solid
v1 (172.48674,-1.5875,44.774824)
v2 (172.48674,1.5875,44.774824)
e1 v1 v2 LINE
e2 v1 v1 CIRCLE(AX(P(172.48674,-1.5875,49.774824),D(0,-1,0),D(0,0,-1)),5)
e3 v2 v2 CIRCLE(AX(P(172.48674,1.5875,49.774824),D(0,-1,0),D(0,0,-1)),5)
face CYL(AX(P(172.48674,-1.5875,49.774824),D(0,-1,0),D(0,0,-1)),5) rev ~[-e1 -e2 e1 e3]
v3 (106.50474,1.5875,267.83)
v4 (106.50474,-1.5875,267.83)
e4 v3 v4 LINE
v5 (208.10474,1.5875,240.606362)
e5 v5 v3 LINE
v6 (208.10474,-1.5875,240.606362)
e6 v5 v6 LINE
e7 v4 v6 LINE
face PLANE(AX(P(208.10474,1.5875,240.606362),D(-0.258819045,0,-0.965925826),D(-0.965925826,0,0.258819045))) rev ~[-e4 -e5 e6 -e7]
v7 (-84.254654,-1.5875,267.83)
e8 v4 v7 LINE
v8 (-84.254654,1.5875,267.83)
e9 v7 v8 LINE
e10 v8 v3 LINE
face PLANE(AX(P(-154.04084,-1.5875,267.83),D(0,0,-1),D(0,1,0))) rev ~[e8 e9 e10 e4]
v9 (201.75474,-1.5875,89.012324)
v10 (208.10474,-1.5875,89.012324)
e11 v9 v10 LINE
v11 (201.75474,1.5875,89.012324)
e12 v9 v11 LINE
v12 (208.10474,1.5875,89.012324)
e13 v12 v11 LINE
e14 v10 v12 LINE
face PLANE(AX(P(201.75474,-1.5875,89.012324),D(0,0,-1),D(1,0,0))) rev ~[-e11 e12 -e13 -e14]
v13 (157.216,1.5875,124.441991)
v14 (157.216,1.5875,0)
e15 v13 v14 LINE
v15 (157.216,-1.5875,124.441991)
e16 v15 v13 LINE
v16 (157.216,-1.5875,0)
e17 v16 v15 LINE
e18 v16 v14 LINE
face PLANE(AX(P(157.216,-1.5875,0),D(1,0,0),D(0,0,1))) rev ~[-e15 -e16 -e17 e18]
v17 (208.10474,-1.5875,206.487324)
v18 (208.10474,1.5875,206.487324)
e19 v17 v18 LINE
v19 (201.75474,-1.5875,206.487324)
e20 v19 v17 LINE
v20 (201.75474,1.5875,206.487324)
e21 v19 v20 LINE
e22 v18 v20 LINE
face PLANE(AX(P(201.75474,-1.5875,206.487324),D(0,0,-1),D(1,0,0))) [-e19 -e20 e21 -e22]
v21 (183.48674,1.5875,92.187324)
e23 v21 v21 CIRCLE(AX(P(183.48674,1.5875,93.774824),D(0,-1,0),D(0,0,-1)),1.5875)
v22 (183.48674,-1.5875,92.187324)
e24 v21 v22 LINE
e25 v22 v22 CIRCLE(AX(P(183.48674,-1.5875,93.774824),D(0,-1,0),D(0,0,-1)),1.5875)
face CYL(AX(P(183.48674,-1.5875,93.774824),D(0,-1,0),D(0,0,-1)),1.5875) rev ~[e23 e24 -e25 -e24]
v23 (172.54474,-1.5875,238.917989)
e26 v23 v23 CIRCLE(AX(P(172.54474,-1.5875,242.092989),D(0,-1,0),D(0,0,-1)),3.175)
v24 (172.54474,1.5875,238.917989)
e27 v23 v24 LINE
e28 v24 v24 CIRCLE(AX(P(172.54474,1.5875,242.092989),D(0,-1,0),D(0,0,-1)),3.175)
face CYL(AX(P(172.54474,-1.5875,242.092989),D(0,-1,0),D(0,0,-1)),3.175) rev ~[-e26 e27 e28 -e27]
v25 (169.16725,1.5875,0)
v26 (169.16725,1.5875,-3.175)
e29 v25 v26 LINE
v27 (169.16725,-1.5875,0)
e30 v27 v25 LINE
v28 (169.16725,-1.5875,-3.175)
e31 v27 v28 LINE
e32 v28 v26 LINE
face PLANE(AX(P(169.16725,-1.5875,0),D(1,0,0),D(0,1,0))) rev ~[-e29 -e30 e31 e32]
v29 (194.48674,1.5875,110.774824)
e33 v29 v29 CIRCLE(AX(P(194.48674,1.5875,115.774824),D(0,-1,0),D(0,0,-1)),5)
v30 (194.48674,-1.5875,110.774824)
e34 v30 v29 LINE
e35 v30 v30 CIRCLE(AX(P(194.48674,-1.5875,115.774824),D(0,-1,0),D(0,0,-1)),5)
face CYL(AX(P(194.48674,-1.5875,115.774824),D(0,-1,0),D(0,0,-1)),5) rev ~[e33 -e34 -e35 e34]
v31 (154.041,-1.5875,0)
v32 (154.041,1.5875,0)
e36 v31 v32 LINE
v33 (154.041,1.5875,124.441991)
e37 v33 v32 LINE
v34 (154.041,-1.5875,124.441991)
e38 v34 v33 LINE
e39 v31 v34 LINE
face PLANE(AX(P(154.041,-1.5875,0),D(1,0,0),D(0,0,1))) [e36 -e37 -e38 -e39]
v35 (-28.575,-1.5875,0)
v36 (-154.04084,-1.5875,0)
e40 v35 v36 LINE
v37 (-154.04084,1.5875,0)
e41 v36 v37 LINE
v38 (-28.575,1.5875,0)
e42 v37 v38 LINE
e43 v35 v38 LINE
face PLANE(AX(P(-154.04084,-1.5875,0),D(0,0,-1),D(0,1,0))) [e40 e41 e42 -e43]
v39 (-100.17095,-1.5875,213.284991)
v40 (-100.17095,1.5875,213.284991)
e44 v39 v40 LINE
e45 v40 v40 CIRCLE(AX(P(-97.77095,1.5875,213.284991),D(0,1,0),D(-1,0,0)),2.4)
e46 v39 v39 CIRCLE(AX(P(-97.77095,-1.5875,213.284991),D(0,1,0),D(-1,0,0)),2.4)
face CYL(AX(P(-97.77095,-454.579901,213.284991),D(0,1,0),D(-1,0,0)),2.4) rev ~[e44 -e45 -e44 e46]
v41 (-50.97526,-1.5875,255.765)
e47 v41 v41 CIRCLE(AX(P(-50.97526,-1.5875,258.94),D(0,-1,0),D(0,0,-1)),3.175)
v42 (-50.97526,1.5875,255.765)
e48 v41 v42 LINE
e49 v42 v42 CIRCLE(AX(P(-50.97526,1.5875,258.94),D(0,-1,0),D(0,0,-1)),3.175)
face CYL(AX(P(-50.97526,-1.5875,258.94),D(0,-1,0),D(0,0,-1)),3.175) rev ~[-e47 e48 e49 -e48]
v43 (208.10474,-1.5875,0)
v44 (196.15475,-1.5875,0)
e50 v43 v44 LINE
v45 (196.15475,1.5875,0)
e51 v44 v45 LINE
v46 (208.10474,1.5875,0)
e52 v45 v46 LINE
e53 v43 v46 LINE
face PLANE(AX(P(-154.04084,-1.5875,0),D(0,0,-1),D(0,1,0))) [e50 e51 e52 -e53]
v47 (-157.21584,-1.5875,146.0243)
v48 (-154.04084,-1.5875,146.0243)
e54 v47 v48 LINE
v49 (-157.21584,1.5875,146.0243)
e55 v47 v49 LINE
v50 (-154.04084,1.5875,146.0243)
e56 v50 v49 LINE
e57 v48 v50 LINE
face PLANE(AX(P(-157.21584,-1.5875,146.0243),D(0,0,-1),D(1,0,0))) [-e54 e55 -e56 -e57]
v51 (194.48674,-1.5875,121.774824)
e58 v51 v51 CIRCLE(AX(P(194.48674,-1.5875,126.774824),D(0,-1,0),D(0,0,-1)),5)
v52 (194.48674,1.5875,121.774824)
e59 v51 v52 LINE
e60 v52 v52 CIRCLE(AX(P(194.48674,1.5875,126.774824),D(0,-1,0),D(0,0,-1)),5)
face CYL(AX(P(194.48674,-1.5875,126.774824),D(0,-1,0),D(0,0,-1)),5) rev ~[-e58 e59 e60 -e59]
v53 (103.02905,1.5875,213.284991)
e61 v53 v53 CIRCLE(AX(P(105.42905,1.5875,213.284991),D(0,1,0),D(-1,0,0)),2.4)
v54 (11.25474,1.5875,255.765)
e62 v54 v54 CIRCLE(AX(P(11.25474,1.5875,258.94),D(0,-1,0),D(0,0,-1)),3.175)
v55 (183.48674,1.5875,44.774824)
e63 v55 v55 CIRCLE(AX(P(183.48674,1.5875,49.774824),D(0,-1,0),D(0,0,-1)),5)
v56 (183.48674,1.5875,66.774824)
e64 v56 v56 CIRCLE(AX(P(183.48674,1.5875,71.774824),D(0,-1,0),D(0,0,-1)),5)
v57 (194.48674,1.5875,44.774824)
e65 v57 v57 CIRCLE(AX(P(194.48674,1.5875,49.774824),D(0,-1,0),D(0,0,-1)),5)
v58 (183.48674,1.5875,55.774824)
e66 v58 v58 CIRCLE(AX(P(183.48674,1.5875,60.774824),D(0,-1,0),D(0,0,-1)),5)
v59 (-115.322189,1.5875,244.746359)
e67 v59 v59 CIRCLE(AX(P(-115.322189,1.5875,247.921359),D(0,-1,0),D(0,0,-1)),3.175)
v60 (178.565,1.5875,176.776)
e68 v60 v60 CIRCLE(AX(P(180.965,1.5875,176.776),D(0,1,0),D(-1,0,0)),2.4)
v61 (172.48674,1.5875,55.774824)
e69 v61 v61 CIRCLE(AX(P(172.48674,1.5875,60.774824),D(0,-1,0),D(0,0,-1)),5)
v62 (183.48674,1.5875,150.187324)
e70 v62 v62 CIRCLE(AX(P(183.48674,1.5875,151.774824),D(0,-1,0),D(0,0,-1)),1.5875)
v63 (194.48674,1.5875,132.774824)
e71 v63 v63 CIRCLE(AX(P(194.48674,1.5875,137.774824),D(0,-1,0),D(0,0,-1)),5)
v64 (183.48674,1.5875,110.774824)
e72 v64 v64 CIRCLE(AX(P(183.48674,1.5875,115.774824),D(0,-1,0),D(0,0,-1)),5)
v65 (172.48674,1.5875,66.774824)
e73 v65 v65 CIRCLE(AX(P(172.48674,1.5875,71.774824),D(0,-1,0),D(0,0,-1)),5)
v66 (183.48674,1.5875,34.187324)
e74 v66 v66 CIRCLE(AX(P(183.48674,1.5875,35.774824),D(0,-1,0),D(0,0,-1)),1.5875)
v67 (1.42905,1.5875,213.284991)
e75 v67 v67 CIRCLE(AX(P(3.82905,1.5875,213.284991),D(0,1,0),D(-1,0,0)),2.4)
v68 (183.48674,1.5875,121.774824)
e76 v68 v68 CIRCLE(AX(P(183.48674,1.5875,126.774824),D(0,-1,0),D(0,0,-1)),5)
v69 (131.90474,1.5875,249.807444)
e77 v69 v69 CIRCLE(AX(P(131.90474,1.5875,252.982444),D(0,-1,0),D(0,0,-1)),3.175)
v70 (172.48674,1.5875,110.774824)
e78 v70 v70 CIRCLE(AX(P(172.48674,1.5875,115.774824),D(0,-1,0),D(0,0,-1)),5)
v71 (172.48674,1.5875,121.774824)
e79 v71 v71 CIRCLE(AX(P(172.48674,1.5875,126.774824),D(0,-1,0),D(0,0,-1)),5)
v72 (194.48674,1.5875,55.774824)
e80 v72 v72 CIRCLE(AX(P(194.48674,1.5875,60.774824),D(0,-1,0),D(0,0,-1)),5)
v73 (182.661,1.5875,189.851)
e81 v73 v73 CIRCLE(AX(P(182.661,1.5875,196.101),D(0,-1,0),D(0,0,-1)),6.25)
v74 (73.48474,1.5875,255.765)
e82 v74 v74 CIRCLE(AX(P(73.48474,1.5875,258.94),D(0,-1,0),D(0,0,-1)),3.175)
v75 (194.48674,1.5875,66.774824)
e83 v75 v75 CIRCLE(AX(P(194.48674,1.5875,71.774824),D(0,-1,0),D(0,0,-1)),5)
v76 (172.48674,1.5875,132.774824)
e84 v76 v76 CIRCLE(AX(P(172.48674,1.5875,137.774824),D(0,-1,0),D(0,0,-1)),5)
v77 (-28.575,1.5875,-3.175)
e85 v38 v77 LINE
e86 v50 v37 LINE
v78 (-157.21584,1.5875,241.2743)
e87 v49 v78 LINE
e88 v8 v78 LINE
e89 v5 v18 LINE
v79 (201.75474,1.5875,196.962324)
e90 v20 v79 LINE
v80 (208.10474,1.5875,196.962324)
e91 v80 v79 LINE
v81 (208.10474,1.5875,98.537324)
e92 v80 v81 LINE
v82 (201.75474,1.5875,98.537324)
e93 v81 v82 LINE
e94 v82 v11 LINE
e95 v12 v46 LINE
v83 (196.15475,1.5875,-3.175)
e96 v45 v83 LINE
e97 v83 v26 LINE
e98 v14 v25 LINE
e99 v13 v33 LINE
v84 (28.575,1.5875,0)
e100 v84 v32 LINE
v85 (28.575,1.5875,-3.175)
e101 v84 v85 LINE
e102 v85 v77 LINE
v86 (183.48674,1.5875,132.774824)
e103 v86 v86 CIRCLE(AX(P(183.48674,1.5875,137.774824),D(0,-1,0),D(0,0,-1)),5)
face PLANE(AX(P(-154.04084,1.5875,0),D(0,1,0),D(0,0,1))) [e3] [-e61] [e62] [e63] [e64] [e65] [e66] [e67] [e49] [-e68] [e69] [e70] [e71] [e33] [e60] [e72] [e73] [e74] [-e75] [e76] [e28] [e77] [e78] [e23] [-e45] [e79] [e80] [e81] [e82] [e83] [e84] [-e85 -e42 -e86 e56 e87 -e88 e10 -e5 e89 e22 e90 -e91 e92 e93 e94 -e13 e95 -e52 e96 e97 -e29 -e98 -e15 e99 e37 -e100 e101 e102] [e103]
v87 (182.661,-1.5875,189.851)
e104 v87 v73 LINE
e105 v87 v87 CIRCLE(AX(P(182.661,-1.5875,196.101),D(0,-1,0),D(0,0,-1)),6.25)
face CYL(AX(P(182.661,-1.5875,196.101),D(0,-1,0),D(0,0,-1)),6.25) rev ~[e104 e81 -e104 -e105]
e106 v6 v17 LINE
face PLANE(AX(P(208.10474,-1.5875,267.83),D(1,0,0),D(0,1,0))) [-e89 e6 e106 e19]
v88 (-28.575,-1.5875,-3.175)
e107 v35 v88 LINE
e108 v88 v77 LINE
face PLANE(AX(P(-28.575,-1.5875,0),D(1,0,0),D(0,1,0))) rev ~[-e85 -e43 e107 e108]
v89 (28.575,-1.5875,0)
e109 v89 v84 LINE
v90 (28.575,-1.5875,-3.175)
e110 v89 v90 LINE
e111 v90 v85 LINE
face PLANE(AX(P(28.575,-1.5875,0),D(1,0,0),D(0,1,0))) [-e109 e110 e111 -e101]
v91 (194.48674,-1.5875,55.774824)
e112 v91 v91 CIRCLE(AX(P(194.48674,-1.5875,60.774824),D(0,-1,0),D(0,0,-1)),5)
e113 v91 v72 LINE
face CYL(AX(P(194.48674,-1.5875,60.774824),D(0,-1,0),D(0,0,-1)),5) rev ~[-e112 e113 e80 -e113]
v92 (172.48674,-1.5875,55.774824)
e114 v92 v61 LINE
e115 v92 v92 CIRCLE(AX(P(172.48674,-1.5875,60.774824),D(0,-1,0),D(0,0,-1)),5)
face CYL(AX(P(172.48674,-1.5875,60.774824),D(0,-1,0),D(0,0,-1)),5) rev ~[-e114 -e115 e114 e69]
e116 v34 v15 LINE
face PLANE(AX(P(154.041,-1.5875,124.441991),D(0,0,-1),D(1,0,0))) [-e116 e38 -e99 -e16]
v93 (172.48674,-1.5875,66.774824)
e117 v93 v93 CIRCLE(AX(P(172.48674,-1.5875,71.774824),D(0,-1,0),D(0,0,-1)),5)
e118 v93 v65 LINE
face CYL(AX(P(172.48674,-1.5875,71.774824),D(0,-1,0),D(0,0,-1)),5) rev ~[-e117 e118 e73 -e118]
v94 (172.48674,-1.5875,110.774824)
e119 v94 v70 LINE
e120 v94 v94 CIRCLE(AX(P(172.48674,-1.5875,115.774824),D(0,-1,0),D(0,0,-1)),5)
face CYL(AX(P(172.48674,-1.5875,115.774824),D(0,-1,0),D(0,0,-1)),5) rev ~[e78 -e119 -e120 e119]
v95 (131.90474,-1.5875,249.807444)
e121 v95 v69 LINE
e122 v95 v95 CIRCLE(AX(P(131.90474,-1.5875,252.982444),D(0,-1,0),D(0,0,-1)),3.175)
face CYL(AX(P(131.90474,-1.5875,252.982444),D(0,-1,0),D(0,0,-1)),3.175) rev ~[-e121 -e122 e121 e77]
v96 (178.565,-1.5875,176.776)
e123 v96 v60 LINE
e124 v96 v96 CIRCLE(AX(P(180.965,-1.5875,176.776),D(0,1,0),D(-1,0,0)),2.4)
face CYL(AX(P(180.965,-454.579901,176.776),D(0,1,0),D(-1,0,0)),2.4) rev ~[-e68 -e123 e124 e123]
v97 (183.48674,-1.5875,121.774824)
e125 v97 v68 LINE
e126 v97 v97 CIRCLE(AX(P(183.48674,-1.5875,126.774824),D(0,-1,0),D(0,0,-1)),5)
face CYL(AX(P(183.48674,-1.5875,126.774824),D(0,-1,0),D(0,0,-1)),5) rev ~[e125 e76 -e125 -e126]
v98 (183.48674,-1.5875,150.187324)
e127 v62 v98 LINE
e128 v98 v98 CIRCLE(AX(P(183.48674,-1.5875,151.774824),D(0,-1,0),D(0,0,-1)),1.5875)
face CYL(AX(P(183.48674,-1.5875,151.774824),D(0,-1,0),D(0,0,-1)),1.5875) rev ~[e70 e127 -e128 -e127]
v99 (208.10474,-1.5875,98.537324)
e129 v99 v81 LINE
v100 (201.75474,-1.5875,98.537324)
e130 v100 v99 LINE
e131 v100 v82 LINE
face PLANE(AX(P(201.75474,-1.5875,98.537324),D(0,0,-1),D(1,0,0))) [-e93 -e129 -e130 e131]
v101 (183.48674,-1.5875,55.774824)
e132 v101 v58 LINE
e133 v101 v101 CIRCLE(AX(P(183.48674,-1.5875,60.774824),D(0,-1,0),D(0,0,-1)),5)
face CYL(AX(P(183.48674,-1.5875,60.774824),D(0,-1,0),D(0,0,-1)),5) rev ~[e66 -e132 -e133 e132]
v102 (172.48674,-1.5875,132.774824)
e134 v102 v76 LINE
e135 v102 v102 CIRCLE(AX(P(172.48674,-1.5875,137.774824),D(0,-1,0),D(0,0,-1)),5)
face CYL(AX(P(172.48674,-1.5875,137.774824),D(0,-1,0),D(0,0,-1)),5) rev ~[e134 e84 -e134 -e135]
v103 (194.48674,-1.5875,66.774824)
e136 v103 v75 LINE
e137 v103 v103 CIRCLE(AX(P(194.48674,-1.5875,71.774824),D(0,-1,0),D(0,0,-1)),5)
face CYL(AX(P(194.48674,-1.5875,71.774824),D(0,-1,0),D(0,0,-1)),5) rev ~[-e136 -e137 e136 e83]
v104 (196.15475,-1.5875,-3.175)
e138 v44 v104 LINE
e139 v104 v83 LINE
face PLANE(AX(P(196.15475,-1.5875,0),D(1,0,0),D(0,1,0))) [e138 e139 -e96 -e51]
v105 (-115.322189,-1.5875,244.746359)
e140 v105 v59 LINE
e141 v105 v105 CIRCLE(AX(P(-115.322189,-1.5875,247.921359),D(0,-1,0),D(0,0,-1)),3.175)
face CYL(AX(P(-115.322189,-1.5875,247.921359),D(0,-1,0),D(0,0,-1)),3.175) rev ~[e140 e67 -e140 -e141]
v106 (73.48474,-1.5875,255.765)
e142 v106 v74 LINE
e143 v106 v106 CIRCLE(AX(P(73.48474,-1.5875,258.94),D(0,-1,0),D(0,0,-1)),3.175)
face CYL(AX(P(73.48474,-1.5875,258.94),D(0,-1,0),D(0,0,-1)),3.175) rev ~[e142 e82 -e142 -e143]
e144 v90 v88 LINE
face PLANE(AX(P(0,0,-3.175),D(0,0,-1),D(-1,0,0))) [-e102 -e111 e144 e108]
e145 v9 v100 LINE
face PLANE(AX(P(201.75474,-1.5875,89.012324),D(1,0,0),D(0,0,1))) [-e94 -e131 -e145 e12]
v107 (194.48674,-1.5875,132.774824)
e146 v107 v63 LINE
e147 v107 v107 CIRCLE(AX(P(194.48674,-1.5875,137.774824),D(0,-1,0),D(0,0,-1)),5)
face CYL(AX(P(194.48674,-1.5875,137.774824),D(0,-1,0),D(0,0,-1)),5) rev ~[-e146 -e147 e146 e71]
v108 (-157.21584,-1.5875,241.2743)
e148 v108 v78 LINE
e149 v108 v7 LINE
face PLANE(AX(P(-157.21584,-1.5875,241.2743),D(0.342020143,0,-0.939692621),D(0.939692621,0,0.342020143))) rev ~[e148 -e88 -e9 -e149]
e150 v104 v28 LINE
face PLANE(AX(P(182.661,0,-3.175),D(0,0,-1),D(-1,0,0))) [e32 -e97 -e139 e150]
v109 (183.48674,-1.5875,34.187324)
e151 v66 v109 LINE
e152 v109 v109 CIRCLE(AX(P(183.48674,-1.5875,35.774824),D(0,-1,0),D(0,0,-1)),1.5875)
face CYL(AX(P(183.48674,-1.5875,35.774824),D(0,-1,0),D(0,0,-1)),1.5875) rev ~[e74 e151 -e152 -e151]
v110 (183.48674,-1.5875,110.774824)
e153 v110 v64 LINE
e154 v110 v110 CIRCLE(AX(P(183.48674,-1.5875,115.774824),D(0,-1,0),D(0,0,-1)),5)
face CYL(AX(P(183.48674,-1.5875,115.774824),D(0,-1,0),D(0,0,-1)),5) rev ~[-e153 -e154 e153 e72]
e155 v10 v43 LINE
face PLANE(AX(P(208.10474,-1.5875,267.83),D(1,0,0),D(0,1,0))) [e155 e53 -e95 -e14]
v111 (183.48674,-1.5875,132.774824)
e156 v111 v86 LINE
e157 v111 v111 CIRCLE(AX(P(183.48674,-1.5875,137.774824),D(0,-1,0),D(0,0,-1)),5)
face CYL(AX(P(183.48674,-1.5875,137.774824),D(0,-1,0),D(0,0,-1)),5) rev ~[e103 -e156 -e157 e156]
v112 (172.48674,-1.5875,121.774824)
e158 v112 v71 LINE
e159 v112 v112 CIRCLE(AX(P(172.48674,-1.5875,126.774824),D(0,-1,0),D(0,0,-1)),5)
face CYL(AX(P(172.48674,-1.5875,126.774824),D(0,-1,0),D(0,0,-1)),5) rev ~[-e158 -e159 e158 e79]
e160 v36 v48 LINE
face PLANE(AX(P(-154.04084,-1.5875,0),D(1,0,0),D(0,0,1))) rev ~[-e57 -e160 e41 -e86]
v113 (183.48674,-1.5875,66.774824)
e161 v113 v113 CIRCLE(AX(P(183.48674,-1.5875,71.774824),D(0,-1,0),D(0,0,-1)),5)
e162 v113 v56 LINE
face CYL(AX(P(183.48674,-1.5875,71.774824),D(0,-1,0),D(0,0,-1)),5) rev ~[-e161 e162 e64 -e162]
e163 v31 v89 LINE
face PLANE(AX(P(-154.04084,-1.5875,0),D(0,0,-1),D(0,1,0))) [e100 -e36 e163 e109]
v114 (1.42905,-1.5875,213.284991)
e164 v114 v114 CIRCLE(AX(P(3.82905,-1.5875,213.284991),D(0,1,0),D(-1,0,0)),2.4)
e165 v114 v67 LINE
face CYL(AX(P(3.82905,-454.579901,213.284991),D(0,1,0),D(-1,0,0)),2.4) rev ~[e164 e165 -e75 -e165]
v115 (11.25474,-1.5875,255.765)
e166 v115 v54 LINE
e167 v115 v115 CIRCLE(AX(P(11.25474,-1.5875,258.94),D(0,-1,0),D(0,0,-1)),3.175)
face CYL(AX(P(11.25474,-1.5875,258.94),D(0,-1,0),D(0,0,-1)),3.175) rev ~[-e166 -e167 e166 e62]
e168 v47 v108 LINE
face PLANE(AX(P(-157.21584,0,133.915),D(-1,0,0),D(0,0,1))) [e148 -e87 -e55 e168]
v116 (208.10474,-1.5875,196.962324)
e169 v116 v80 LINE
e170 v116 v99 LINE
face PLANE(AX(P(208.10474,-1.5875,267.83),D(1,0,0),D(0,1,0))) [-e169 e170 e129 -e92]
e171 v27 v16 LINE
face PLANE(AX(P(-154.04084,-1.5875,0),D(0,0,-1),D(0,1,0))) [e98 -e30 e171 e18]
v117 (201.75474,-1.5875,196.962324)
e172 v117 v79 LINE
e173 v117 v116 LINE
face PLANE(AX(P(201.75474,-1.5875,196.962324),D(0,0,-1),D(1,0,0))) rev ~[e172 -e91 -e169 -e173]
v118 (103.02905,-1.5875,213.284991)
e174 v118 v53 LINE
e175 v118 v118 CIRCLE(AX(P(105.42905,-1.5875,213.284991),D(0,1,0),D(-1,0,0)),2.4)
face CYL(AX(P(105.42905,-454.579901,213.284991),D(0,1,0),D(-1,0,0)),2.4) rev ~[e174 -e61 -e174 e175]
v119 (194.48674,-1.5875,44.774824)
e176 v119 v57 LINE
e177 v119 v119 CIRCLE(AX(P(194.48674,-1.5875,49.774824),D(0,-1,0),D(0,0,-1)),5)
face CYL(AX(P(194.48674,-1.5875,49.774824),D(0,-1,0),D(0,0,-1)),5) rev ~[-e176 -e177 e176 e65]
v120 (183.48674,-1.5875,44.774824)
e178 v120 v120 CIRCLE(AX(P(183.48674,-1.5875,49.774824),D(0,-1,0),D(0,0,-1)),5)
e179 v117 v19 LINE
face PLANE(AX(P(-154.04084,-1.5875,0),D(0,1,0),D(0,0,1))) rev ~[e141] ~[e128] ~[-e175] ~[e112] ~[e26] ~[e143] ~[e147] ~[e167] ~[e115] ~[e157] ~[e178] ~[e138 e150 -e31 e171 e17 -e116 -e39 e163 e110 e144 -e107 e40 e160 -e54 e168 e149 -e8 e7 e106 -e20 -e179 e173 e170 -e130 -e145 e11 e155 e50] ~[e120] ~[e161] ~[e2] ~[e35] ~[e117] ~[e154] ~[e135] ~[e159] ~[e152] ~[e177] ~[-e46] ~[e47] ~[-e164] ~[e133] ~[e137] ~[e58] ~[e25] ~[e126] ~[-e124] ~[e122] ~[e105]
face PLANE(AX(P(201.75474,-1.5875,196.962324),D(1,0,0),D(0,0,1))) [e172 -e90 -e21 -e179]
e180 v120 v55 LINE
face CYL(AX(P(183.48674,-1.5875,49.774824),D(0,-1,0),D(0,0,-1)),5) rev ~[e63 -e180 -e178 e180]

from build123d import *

# Parameters (mm, degrees)
SKETCH1_W            = 308.08168
SKETCH1_H            = 3.175
BOSS_EXTRUDE1_DEPTH  = 267.83
SKETCH3_W            = 267.83
SKETCH3_H            = 3.175
BOSS_EXTRUDE3_DEPTH  = 3.175
SKETCH4_W            = 50.8889
SKETCH4_H            = 3.175
BOSS_EXTRUDE4_DEPTH  = 267.83
CUT_EXTRUDE1_DEPTH   = 340.191055801
SKETCH17_W           = 267.83
SKETCH17_H           = 3.175
BOSS_EXTRUDE5_DEPTH  = 3.175
CUT_EXTRUDE3_DEPTH   = 340.191055801
SKETCH25_R           = 3.175
CUT_EXTRUDE8_DEPTH   = 3.175
SKETCH27_R           = 5
CUT_EXTRUDE9_DEPTH   = 340.191055801
SKETCH31_R           = 1.5875
CUT_EXTRUDE10_DEPTH  = 340.191055801
LPATTERN1_COUNT      = 3
LPATTERN1_PITCH      = 58
M4_CLEARANCE_HOLE1_D = 4.8
SKETCH36_W           = 57.15
SKETCH36_H           = 3.175
SKETCH36_W_2         = 26.9875
BOSS_EXTRUDE6_DEPTH  = 3.175
SKETCH37_W           = 3.175
SKETCH37_H           = 124.4419914
CUT_EXTRUDE11_DEPTH  = 340.191055801
SKETCH38_W           = 3.175
SKETCH38_H           = 146.0243
CUT_EXTRUDE12_DEPTH  = 340.191055801
SKETCH39_W           = 6.35
SKETCH39_H           = 9.525
CUT_EXTRUDE13_DEPTH  = 340.191055801
SKETCH40_R           = 6.25
CUT_EXTRUDE14_DEPTH  = 340.191055801


with BuildPart() as part:
    # Sketch1 → Boss-Extrude1 (new body)
    with BuildSketch(Plane.XY):
        Rectangle(SKETCH1_W, SKETCH1_H)
    extrude(amount=BOSS_EXTRUDE1_DEPTH)

    # Sketch3 → Boss-Extrude3 (add)
    with BuildSketch(Plane(origin=(154.04084, 0, 0), x_dir=(0, 0, -1), z_dir=(1, 0, 0))):
        with Locations((-133.915, 0)):
            Rectangle(SKETCH3_W, SKETCH3_H)
    extrude(amount=BOSS_EXTRUDE3_DEPTH)

    # Sketch4 → Boss-Extrude4 (add)
    with BuildSketch(Plane.XY.offset(267.83)):
        with Locations((182.66029, 0)):
            Rectangle(SKETCH4_W, SKETCH4_H)
    extrude(amount=-BOSS_EXTRUDE4_DEPTH)

    # Sketch6 → Cut-Extrude1 (cut, through all)
    with BuildSketch(Plane(origin=(0, 1.5875, 0), x_dir=(1, 0, 0), z_dir=(0, 1, 0))):
        Polygon((208.10474, -240.606362049), (106.50474, -267.83), (208.10474, -267.83), align=None)
    extrude(amount=-CUT_EXTRUDE1_DEPTH, mode=Mode.SUBTRACT)

    # Sketch17 → Boss-Extrude5 (add)
    with BuildSketch(Plane.ZY.offset(154.04084)):
        with Locations((133.915, 0)):
            Rectangle(SKETCH17_W, SKETCH17_H)
    extrude(amount=BOSS_EXTRUDE5_DEPTH)

    # Sketch11 → Cut-Extrude3 (cut, through all)
    with BuildSketch(Plane.XZ.offset(1.5875)):
        Polygon((-157.21584, 241.2743), (-84.254653892, 267.83), (-157.21584, 267.83), align=None)
    extrude(amount=-CUT_EXTRUDE3_DEPTH, mode=Mode.SUBTRACT)

    # Sketch25 → Cut-Extrude8 (cut)
    with BuildSketch(Plane.XZ.offset(1.5875)):
        with Locations(Location((-115.322188641, 247.921359373, 0), (0, 0, 270))):
            Circle(SKETCH25_R)
        with Locations(Location((-50.97526, 258.94, 0), (0, 0, 270))):
            Circle(SKETCH25_R)
        with Locations(Location((11.25474, 258.94, 0), (0, 0, 270))):
            Circle(SKETCH25_R)
        with Locations(Location((73.48474, 258.94, 0), (0, 0, 270))):
            Circle(SKETCH25_R)
        with Locations(Location((172.54474, 242.09298883, 0), (0, 0, 270))):
            Circle(SKETCH25_R)
        with Locations(Location((131.90474, 252.982444011, 0), (0, 0, 270))):
            Circle(SKETCH25_R)
    extrude(amount=-CUT_EXTRUDE8_DEPTH, mode=Mode.SUBTRACT)

    # Sketch27 → Cut-Extrude9 (cut, through all)
    with BuildSketch(Plane.XZ.offset(1.5875)):
        with Locations(Location((172.48674, 137.774823778, 0), (0, 0, 270))):
            Circle(SKETCH27_R)
        with Locations(Location((183.48674, 137.774823778, 0), (0, 0, 270))):
            Circle(SKETCH27_R)
        with Locations(Location((194.48674, 137.774823778, 0), (0, 0, 270))):
            Circle(SKETCH27_R)
        with Locations(Location((194.48674, 126.774823778, 0), (0, 0, 270))):
            Circle(SKETCH27_R)
        with Locations(Location((194.48674, 115.774823778, 0), (0, 0, 270))):
            Circle(SKETCH27_R)
        with Locations(Location((183.48674, 126.774823778, 0), (0, 0, 270))):
            Circle(SKETCH27_R)
        with Locations(Location((183.48674, 115.774823778, 0), (0, 0, 270))):
            Circle(SKETCH27_R)
        with Locations(Location((172.48674, 115.774823778, 0), (0, 0, 270))):
            Circle(SKETCH27_R)
        with Locations(Location((172.48674, 126.774823778, 0), (0, 0, 270))):
            Circle(SKETCH27_R)
        with Locations(Location((194.48674, 71.774823778, 0), (0, 0, 270))):
            Circle(SKETCH27_R)
        with Locations(Location((194.48674, 60.774823778, 0), (0, 0, 270))):
            Circle(SKETCH27_R)
        with Locations(Location((194.48674, 49.774823778, 0), (0, 0, 270))):
            Circle(SKETCH27_R)
        with Locations(Location((183.48674, 71.774823778, 0), (0, 0, 270))):
            Circle(SKETCH27_R)
        with Locations(Location((183.48674, 60.774823778, 0), (0, 0, 270))):
            Circle(SKETCH27_R)
        with Locations(Location((183.48674, 49.774823778, 0), (0, 0, 270))):
            Circle(SKETCH27_R)
        with Locations(Location((172.48674, 49.774823778, 0), (0, 0, 270))):
            Circle(SKETCH27_R)
        with Locations(Location((172.48674, 60.774823778, 0), (0, 0, 270))):
            Circle(SKETCH27_R)
        with Locations(Location((172.48674, 71.774823778, 0), (0, 0, 270))):
            Circle(SKETCH27_R)
    extrude(amount=-CUT_EXTRUDE9_DEPTH, mode=Mode.SUBTRACT)

    # Sketch31 → Cut-Extrude10 (cut, symmetric)
    with BuildSketch(Plane.XZ.offset(1.5875)):
        with Locations(Location((183.48674, 151.774823778, 0), (0, 0, 270))):
            Circle(SKETCH31_R)
    cut_extrude10 = extrude(amount=CUT_EXTRUDE10_DEPTH, both=True, mode=Mode.SUBTRACT)

    # LPattern1: Cut-Extrude10 ×3
    with Locations(*[(0, 0, -i * LPATTERN1_PITCH) for i in range(1, LPATTERN1_COUNT)]):
        add(cut_extrude10, mode=Mode.SUBTRACT)

    # M4 Clearance Hole1 (through all)
    with Locations(Plane.XZ.offset(1.5875)):
        with Locations((180.96500002, 176.776), (-97.77095, 213.2849914), (3.82905, 213.2849914), (105.42905, 213.2849914)):
            Hole(M4_CLEARANCE_HOLE1_D / 2)

    # Sketch36 → Boss-Extrude6 (add)
    with BuildSketch(Plane(origin=(0, 0, 0), x_dir=(-1, 0, 0), z_dir=(0, 0, -1))):
        Rectangle(SKETCH36_W, SKETCH36_H)
        with Locations((-182.66100002, 0)):
            Rectangle(SKETCH36_W_2, SKETCH36_H)
    extrude(amount=BOSS_EXTRUDE6_DEPTH)

    # Sketch37 → Cut-Extrude11 (cut, through all)
    with BuildSketch(Plane.XZ.offset(1.5875)):
        with Locations((155.62850002, 62.2209957)):
            Rectangle(SKETCH37_W, SKETCH37_H)
    extrude(amount=-CUT_EXTRUDE11_DEPTH, mode=Mode.SUBTRACT)

    # Sketch38 → Cut-Extrude12 (cut, through all)
    with BuildSketch(Plane.XZ.offset(1.5875)):
        with Locations((-155.62834, 73.01215)):
            Rectangle(SKETCH38_W, SKETCH38_H)
    extrude(amount=-CUT_EXTRUDE12_DEPTH, mode=Mode.SUBTRACT)

    # Sketch39 → Cut-Extrude13 (cut, through all)
    with BuildSketch(Plane.XZ.offset(1.5875)):
        with Locations((204.92974, 93.774823778)):
            Rectangle(SKETCH39_W, SKETCH39_H)
        with Locations((204.92974, 201.724823778)):
            Rectangle(SKETCH39_W, SKETCH39_H)
    extrude(amount=-CUT_EXTRUDE13_DEPTH, mode=Mode.SUBTRACT)

    # Sketch40 → Cut-Extrude14 (cut, through all)
    with BuildSketch(Plane.XZ.offset(1.5875)):
        with Locations(Location((182.66100002, 196.101, 0), (0, 0, 270))):
            Circle(SKETCH40_R)
    extrude(amount=-CUT_EXTRUDE14_DEPTH, mode=Mode.SUBTRACT)


solid = part.part
